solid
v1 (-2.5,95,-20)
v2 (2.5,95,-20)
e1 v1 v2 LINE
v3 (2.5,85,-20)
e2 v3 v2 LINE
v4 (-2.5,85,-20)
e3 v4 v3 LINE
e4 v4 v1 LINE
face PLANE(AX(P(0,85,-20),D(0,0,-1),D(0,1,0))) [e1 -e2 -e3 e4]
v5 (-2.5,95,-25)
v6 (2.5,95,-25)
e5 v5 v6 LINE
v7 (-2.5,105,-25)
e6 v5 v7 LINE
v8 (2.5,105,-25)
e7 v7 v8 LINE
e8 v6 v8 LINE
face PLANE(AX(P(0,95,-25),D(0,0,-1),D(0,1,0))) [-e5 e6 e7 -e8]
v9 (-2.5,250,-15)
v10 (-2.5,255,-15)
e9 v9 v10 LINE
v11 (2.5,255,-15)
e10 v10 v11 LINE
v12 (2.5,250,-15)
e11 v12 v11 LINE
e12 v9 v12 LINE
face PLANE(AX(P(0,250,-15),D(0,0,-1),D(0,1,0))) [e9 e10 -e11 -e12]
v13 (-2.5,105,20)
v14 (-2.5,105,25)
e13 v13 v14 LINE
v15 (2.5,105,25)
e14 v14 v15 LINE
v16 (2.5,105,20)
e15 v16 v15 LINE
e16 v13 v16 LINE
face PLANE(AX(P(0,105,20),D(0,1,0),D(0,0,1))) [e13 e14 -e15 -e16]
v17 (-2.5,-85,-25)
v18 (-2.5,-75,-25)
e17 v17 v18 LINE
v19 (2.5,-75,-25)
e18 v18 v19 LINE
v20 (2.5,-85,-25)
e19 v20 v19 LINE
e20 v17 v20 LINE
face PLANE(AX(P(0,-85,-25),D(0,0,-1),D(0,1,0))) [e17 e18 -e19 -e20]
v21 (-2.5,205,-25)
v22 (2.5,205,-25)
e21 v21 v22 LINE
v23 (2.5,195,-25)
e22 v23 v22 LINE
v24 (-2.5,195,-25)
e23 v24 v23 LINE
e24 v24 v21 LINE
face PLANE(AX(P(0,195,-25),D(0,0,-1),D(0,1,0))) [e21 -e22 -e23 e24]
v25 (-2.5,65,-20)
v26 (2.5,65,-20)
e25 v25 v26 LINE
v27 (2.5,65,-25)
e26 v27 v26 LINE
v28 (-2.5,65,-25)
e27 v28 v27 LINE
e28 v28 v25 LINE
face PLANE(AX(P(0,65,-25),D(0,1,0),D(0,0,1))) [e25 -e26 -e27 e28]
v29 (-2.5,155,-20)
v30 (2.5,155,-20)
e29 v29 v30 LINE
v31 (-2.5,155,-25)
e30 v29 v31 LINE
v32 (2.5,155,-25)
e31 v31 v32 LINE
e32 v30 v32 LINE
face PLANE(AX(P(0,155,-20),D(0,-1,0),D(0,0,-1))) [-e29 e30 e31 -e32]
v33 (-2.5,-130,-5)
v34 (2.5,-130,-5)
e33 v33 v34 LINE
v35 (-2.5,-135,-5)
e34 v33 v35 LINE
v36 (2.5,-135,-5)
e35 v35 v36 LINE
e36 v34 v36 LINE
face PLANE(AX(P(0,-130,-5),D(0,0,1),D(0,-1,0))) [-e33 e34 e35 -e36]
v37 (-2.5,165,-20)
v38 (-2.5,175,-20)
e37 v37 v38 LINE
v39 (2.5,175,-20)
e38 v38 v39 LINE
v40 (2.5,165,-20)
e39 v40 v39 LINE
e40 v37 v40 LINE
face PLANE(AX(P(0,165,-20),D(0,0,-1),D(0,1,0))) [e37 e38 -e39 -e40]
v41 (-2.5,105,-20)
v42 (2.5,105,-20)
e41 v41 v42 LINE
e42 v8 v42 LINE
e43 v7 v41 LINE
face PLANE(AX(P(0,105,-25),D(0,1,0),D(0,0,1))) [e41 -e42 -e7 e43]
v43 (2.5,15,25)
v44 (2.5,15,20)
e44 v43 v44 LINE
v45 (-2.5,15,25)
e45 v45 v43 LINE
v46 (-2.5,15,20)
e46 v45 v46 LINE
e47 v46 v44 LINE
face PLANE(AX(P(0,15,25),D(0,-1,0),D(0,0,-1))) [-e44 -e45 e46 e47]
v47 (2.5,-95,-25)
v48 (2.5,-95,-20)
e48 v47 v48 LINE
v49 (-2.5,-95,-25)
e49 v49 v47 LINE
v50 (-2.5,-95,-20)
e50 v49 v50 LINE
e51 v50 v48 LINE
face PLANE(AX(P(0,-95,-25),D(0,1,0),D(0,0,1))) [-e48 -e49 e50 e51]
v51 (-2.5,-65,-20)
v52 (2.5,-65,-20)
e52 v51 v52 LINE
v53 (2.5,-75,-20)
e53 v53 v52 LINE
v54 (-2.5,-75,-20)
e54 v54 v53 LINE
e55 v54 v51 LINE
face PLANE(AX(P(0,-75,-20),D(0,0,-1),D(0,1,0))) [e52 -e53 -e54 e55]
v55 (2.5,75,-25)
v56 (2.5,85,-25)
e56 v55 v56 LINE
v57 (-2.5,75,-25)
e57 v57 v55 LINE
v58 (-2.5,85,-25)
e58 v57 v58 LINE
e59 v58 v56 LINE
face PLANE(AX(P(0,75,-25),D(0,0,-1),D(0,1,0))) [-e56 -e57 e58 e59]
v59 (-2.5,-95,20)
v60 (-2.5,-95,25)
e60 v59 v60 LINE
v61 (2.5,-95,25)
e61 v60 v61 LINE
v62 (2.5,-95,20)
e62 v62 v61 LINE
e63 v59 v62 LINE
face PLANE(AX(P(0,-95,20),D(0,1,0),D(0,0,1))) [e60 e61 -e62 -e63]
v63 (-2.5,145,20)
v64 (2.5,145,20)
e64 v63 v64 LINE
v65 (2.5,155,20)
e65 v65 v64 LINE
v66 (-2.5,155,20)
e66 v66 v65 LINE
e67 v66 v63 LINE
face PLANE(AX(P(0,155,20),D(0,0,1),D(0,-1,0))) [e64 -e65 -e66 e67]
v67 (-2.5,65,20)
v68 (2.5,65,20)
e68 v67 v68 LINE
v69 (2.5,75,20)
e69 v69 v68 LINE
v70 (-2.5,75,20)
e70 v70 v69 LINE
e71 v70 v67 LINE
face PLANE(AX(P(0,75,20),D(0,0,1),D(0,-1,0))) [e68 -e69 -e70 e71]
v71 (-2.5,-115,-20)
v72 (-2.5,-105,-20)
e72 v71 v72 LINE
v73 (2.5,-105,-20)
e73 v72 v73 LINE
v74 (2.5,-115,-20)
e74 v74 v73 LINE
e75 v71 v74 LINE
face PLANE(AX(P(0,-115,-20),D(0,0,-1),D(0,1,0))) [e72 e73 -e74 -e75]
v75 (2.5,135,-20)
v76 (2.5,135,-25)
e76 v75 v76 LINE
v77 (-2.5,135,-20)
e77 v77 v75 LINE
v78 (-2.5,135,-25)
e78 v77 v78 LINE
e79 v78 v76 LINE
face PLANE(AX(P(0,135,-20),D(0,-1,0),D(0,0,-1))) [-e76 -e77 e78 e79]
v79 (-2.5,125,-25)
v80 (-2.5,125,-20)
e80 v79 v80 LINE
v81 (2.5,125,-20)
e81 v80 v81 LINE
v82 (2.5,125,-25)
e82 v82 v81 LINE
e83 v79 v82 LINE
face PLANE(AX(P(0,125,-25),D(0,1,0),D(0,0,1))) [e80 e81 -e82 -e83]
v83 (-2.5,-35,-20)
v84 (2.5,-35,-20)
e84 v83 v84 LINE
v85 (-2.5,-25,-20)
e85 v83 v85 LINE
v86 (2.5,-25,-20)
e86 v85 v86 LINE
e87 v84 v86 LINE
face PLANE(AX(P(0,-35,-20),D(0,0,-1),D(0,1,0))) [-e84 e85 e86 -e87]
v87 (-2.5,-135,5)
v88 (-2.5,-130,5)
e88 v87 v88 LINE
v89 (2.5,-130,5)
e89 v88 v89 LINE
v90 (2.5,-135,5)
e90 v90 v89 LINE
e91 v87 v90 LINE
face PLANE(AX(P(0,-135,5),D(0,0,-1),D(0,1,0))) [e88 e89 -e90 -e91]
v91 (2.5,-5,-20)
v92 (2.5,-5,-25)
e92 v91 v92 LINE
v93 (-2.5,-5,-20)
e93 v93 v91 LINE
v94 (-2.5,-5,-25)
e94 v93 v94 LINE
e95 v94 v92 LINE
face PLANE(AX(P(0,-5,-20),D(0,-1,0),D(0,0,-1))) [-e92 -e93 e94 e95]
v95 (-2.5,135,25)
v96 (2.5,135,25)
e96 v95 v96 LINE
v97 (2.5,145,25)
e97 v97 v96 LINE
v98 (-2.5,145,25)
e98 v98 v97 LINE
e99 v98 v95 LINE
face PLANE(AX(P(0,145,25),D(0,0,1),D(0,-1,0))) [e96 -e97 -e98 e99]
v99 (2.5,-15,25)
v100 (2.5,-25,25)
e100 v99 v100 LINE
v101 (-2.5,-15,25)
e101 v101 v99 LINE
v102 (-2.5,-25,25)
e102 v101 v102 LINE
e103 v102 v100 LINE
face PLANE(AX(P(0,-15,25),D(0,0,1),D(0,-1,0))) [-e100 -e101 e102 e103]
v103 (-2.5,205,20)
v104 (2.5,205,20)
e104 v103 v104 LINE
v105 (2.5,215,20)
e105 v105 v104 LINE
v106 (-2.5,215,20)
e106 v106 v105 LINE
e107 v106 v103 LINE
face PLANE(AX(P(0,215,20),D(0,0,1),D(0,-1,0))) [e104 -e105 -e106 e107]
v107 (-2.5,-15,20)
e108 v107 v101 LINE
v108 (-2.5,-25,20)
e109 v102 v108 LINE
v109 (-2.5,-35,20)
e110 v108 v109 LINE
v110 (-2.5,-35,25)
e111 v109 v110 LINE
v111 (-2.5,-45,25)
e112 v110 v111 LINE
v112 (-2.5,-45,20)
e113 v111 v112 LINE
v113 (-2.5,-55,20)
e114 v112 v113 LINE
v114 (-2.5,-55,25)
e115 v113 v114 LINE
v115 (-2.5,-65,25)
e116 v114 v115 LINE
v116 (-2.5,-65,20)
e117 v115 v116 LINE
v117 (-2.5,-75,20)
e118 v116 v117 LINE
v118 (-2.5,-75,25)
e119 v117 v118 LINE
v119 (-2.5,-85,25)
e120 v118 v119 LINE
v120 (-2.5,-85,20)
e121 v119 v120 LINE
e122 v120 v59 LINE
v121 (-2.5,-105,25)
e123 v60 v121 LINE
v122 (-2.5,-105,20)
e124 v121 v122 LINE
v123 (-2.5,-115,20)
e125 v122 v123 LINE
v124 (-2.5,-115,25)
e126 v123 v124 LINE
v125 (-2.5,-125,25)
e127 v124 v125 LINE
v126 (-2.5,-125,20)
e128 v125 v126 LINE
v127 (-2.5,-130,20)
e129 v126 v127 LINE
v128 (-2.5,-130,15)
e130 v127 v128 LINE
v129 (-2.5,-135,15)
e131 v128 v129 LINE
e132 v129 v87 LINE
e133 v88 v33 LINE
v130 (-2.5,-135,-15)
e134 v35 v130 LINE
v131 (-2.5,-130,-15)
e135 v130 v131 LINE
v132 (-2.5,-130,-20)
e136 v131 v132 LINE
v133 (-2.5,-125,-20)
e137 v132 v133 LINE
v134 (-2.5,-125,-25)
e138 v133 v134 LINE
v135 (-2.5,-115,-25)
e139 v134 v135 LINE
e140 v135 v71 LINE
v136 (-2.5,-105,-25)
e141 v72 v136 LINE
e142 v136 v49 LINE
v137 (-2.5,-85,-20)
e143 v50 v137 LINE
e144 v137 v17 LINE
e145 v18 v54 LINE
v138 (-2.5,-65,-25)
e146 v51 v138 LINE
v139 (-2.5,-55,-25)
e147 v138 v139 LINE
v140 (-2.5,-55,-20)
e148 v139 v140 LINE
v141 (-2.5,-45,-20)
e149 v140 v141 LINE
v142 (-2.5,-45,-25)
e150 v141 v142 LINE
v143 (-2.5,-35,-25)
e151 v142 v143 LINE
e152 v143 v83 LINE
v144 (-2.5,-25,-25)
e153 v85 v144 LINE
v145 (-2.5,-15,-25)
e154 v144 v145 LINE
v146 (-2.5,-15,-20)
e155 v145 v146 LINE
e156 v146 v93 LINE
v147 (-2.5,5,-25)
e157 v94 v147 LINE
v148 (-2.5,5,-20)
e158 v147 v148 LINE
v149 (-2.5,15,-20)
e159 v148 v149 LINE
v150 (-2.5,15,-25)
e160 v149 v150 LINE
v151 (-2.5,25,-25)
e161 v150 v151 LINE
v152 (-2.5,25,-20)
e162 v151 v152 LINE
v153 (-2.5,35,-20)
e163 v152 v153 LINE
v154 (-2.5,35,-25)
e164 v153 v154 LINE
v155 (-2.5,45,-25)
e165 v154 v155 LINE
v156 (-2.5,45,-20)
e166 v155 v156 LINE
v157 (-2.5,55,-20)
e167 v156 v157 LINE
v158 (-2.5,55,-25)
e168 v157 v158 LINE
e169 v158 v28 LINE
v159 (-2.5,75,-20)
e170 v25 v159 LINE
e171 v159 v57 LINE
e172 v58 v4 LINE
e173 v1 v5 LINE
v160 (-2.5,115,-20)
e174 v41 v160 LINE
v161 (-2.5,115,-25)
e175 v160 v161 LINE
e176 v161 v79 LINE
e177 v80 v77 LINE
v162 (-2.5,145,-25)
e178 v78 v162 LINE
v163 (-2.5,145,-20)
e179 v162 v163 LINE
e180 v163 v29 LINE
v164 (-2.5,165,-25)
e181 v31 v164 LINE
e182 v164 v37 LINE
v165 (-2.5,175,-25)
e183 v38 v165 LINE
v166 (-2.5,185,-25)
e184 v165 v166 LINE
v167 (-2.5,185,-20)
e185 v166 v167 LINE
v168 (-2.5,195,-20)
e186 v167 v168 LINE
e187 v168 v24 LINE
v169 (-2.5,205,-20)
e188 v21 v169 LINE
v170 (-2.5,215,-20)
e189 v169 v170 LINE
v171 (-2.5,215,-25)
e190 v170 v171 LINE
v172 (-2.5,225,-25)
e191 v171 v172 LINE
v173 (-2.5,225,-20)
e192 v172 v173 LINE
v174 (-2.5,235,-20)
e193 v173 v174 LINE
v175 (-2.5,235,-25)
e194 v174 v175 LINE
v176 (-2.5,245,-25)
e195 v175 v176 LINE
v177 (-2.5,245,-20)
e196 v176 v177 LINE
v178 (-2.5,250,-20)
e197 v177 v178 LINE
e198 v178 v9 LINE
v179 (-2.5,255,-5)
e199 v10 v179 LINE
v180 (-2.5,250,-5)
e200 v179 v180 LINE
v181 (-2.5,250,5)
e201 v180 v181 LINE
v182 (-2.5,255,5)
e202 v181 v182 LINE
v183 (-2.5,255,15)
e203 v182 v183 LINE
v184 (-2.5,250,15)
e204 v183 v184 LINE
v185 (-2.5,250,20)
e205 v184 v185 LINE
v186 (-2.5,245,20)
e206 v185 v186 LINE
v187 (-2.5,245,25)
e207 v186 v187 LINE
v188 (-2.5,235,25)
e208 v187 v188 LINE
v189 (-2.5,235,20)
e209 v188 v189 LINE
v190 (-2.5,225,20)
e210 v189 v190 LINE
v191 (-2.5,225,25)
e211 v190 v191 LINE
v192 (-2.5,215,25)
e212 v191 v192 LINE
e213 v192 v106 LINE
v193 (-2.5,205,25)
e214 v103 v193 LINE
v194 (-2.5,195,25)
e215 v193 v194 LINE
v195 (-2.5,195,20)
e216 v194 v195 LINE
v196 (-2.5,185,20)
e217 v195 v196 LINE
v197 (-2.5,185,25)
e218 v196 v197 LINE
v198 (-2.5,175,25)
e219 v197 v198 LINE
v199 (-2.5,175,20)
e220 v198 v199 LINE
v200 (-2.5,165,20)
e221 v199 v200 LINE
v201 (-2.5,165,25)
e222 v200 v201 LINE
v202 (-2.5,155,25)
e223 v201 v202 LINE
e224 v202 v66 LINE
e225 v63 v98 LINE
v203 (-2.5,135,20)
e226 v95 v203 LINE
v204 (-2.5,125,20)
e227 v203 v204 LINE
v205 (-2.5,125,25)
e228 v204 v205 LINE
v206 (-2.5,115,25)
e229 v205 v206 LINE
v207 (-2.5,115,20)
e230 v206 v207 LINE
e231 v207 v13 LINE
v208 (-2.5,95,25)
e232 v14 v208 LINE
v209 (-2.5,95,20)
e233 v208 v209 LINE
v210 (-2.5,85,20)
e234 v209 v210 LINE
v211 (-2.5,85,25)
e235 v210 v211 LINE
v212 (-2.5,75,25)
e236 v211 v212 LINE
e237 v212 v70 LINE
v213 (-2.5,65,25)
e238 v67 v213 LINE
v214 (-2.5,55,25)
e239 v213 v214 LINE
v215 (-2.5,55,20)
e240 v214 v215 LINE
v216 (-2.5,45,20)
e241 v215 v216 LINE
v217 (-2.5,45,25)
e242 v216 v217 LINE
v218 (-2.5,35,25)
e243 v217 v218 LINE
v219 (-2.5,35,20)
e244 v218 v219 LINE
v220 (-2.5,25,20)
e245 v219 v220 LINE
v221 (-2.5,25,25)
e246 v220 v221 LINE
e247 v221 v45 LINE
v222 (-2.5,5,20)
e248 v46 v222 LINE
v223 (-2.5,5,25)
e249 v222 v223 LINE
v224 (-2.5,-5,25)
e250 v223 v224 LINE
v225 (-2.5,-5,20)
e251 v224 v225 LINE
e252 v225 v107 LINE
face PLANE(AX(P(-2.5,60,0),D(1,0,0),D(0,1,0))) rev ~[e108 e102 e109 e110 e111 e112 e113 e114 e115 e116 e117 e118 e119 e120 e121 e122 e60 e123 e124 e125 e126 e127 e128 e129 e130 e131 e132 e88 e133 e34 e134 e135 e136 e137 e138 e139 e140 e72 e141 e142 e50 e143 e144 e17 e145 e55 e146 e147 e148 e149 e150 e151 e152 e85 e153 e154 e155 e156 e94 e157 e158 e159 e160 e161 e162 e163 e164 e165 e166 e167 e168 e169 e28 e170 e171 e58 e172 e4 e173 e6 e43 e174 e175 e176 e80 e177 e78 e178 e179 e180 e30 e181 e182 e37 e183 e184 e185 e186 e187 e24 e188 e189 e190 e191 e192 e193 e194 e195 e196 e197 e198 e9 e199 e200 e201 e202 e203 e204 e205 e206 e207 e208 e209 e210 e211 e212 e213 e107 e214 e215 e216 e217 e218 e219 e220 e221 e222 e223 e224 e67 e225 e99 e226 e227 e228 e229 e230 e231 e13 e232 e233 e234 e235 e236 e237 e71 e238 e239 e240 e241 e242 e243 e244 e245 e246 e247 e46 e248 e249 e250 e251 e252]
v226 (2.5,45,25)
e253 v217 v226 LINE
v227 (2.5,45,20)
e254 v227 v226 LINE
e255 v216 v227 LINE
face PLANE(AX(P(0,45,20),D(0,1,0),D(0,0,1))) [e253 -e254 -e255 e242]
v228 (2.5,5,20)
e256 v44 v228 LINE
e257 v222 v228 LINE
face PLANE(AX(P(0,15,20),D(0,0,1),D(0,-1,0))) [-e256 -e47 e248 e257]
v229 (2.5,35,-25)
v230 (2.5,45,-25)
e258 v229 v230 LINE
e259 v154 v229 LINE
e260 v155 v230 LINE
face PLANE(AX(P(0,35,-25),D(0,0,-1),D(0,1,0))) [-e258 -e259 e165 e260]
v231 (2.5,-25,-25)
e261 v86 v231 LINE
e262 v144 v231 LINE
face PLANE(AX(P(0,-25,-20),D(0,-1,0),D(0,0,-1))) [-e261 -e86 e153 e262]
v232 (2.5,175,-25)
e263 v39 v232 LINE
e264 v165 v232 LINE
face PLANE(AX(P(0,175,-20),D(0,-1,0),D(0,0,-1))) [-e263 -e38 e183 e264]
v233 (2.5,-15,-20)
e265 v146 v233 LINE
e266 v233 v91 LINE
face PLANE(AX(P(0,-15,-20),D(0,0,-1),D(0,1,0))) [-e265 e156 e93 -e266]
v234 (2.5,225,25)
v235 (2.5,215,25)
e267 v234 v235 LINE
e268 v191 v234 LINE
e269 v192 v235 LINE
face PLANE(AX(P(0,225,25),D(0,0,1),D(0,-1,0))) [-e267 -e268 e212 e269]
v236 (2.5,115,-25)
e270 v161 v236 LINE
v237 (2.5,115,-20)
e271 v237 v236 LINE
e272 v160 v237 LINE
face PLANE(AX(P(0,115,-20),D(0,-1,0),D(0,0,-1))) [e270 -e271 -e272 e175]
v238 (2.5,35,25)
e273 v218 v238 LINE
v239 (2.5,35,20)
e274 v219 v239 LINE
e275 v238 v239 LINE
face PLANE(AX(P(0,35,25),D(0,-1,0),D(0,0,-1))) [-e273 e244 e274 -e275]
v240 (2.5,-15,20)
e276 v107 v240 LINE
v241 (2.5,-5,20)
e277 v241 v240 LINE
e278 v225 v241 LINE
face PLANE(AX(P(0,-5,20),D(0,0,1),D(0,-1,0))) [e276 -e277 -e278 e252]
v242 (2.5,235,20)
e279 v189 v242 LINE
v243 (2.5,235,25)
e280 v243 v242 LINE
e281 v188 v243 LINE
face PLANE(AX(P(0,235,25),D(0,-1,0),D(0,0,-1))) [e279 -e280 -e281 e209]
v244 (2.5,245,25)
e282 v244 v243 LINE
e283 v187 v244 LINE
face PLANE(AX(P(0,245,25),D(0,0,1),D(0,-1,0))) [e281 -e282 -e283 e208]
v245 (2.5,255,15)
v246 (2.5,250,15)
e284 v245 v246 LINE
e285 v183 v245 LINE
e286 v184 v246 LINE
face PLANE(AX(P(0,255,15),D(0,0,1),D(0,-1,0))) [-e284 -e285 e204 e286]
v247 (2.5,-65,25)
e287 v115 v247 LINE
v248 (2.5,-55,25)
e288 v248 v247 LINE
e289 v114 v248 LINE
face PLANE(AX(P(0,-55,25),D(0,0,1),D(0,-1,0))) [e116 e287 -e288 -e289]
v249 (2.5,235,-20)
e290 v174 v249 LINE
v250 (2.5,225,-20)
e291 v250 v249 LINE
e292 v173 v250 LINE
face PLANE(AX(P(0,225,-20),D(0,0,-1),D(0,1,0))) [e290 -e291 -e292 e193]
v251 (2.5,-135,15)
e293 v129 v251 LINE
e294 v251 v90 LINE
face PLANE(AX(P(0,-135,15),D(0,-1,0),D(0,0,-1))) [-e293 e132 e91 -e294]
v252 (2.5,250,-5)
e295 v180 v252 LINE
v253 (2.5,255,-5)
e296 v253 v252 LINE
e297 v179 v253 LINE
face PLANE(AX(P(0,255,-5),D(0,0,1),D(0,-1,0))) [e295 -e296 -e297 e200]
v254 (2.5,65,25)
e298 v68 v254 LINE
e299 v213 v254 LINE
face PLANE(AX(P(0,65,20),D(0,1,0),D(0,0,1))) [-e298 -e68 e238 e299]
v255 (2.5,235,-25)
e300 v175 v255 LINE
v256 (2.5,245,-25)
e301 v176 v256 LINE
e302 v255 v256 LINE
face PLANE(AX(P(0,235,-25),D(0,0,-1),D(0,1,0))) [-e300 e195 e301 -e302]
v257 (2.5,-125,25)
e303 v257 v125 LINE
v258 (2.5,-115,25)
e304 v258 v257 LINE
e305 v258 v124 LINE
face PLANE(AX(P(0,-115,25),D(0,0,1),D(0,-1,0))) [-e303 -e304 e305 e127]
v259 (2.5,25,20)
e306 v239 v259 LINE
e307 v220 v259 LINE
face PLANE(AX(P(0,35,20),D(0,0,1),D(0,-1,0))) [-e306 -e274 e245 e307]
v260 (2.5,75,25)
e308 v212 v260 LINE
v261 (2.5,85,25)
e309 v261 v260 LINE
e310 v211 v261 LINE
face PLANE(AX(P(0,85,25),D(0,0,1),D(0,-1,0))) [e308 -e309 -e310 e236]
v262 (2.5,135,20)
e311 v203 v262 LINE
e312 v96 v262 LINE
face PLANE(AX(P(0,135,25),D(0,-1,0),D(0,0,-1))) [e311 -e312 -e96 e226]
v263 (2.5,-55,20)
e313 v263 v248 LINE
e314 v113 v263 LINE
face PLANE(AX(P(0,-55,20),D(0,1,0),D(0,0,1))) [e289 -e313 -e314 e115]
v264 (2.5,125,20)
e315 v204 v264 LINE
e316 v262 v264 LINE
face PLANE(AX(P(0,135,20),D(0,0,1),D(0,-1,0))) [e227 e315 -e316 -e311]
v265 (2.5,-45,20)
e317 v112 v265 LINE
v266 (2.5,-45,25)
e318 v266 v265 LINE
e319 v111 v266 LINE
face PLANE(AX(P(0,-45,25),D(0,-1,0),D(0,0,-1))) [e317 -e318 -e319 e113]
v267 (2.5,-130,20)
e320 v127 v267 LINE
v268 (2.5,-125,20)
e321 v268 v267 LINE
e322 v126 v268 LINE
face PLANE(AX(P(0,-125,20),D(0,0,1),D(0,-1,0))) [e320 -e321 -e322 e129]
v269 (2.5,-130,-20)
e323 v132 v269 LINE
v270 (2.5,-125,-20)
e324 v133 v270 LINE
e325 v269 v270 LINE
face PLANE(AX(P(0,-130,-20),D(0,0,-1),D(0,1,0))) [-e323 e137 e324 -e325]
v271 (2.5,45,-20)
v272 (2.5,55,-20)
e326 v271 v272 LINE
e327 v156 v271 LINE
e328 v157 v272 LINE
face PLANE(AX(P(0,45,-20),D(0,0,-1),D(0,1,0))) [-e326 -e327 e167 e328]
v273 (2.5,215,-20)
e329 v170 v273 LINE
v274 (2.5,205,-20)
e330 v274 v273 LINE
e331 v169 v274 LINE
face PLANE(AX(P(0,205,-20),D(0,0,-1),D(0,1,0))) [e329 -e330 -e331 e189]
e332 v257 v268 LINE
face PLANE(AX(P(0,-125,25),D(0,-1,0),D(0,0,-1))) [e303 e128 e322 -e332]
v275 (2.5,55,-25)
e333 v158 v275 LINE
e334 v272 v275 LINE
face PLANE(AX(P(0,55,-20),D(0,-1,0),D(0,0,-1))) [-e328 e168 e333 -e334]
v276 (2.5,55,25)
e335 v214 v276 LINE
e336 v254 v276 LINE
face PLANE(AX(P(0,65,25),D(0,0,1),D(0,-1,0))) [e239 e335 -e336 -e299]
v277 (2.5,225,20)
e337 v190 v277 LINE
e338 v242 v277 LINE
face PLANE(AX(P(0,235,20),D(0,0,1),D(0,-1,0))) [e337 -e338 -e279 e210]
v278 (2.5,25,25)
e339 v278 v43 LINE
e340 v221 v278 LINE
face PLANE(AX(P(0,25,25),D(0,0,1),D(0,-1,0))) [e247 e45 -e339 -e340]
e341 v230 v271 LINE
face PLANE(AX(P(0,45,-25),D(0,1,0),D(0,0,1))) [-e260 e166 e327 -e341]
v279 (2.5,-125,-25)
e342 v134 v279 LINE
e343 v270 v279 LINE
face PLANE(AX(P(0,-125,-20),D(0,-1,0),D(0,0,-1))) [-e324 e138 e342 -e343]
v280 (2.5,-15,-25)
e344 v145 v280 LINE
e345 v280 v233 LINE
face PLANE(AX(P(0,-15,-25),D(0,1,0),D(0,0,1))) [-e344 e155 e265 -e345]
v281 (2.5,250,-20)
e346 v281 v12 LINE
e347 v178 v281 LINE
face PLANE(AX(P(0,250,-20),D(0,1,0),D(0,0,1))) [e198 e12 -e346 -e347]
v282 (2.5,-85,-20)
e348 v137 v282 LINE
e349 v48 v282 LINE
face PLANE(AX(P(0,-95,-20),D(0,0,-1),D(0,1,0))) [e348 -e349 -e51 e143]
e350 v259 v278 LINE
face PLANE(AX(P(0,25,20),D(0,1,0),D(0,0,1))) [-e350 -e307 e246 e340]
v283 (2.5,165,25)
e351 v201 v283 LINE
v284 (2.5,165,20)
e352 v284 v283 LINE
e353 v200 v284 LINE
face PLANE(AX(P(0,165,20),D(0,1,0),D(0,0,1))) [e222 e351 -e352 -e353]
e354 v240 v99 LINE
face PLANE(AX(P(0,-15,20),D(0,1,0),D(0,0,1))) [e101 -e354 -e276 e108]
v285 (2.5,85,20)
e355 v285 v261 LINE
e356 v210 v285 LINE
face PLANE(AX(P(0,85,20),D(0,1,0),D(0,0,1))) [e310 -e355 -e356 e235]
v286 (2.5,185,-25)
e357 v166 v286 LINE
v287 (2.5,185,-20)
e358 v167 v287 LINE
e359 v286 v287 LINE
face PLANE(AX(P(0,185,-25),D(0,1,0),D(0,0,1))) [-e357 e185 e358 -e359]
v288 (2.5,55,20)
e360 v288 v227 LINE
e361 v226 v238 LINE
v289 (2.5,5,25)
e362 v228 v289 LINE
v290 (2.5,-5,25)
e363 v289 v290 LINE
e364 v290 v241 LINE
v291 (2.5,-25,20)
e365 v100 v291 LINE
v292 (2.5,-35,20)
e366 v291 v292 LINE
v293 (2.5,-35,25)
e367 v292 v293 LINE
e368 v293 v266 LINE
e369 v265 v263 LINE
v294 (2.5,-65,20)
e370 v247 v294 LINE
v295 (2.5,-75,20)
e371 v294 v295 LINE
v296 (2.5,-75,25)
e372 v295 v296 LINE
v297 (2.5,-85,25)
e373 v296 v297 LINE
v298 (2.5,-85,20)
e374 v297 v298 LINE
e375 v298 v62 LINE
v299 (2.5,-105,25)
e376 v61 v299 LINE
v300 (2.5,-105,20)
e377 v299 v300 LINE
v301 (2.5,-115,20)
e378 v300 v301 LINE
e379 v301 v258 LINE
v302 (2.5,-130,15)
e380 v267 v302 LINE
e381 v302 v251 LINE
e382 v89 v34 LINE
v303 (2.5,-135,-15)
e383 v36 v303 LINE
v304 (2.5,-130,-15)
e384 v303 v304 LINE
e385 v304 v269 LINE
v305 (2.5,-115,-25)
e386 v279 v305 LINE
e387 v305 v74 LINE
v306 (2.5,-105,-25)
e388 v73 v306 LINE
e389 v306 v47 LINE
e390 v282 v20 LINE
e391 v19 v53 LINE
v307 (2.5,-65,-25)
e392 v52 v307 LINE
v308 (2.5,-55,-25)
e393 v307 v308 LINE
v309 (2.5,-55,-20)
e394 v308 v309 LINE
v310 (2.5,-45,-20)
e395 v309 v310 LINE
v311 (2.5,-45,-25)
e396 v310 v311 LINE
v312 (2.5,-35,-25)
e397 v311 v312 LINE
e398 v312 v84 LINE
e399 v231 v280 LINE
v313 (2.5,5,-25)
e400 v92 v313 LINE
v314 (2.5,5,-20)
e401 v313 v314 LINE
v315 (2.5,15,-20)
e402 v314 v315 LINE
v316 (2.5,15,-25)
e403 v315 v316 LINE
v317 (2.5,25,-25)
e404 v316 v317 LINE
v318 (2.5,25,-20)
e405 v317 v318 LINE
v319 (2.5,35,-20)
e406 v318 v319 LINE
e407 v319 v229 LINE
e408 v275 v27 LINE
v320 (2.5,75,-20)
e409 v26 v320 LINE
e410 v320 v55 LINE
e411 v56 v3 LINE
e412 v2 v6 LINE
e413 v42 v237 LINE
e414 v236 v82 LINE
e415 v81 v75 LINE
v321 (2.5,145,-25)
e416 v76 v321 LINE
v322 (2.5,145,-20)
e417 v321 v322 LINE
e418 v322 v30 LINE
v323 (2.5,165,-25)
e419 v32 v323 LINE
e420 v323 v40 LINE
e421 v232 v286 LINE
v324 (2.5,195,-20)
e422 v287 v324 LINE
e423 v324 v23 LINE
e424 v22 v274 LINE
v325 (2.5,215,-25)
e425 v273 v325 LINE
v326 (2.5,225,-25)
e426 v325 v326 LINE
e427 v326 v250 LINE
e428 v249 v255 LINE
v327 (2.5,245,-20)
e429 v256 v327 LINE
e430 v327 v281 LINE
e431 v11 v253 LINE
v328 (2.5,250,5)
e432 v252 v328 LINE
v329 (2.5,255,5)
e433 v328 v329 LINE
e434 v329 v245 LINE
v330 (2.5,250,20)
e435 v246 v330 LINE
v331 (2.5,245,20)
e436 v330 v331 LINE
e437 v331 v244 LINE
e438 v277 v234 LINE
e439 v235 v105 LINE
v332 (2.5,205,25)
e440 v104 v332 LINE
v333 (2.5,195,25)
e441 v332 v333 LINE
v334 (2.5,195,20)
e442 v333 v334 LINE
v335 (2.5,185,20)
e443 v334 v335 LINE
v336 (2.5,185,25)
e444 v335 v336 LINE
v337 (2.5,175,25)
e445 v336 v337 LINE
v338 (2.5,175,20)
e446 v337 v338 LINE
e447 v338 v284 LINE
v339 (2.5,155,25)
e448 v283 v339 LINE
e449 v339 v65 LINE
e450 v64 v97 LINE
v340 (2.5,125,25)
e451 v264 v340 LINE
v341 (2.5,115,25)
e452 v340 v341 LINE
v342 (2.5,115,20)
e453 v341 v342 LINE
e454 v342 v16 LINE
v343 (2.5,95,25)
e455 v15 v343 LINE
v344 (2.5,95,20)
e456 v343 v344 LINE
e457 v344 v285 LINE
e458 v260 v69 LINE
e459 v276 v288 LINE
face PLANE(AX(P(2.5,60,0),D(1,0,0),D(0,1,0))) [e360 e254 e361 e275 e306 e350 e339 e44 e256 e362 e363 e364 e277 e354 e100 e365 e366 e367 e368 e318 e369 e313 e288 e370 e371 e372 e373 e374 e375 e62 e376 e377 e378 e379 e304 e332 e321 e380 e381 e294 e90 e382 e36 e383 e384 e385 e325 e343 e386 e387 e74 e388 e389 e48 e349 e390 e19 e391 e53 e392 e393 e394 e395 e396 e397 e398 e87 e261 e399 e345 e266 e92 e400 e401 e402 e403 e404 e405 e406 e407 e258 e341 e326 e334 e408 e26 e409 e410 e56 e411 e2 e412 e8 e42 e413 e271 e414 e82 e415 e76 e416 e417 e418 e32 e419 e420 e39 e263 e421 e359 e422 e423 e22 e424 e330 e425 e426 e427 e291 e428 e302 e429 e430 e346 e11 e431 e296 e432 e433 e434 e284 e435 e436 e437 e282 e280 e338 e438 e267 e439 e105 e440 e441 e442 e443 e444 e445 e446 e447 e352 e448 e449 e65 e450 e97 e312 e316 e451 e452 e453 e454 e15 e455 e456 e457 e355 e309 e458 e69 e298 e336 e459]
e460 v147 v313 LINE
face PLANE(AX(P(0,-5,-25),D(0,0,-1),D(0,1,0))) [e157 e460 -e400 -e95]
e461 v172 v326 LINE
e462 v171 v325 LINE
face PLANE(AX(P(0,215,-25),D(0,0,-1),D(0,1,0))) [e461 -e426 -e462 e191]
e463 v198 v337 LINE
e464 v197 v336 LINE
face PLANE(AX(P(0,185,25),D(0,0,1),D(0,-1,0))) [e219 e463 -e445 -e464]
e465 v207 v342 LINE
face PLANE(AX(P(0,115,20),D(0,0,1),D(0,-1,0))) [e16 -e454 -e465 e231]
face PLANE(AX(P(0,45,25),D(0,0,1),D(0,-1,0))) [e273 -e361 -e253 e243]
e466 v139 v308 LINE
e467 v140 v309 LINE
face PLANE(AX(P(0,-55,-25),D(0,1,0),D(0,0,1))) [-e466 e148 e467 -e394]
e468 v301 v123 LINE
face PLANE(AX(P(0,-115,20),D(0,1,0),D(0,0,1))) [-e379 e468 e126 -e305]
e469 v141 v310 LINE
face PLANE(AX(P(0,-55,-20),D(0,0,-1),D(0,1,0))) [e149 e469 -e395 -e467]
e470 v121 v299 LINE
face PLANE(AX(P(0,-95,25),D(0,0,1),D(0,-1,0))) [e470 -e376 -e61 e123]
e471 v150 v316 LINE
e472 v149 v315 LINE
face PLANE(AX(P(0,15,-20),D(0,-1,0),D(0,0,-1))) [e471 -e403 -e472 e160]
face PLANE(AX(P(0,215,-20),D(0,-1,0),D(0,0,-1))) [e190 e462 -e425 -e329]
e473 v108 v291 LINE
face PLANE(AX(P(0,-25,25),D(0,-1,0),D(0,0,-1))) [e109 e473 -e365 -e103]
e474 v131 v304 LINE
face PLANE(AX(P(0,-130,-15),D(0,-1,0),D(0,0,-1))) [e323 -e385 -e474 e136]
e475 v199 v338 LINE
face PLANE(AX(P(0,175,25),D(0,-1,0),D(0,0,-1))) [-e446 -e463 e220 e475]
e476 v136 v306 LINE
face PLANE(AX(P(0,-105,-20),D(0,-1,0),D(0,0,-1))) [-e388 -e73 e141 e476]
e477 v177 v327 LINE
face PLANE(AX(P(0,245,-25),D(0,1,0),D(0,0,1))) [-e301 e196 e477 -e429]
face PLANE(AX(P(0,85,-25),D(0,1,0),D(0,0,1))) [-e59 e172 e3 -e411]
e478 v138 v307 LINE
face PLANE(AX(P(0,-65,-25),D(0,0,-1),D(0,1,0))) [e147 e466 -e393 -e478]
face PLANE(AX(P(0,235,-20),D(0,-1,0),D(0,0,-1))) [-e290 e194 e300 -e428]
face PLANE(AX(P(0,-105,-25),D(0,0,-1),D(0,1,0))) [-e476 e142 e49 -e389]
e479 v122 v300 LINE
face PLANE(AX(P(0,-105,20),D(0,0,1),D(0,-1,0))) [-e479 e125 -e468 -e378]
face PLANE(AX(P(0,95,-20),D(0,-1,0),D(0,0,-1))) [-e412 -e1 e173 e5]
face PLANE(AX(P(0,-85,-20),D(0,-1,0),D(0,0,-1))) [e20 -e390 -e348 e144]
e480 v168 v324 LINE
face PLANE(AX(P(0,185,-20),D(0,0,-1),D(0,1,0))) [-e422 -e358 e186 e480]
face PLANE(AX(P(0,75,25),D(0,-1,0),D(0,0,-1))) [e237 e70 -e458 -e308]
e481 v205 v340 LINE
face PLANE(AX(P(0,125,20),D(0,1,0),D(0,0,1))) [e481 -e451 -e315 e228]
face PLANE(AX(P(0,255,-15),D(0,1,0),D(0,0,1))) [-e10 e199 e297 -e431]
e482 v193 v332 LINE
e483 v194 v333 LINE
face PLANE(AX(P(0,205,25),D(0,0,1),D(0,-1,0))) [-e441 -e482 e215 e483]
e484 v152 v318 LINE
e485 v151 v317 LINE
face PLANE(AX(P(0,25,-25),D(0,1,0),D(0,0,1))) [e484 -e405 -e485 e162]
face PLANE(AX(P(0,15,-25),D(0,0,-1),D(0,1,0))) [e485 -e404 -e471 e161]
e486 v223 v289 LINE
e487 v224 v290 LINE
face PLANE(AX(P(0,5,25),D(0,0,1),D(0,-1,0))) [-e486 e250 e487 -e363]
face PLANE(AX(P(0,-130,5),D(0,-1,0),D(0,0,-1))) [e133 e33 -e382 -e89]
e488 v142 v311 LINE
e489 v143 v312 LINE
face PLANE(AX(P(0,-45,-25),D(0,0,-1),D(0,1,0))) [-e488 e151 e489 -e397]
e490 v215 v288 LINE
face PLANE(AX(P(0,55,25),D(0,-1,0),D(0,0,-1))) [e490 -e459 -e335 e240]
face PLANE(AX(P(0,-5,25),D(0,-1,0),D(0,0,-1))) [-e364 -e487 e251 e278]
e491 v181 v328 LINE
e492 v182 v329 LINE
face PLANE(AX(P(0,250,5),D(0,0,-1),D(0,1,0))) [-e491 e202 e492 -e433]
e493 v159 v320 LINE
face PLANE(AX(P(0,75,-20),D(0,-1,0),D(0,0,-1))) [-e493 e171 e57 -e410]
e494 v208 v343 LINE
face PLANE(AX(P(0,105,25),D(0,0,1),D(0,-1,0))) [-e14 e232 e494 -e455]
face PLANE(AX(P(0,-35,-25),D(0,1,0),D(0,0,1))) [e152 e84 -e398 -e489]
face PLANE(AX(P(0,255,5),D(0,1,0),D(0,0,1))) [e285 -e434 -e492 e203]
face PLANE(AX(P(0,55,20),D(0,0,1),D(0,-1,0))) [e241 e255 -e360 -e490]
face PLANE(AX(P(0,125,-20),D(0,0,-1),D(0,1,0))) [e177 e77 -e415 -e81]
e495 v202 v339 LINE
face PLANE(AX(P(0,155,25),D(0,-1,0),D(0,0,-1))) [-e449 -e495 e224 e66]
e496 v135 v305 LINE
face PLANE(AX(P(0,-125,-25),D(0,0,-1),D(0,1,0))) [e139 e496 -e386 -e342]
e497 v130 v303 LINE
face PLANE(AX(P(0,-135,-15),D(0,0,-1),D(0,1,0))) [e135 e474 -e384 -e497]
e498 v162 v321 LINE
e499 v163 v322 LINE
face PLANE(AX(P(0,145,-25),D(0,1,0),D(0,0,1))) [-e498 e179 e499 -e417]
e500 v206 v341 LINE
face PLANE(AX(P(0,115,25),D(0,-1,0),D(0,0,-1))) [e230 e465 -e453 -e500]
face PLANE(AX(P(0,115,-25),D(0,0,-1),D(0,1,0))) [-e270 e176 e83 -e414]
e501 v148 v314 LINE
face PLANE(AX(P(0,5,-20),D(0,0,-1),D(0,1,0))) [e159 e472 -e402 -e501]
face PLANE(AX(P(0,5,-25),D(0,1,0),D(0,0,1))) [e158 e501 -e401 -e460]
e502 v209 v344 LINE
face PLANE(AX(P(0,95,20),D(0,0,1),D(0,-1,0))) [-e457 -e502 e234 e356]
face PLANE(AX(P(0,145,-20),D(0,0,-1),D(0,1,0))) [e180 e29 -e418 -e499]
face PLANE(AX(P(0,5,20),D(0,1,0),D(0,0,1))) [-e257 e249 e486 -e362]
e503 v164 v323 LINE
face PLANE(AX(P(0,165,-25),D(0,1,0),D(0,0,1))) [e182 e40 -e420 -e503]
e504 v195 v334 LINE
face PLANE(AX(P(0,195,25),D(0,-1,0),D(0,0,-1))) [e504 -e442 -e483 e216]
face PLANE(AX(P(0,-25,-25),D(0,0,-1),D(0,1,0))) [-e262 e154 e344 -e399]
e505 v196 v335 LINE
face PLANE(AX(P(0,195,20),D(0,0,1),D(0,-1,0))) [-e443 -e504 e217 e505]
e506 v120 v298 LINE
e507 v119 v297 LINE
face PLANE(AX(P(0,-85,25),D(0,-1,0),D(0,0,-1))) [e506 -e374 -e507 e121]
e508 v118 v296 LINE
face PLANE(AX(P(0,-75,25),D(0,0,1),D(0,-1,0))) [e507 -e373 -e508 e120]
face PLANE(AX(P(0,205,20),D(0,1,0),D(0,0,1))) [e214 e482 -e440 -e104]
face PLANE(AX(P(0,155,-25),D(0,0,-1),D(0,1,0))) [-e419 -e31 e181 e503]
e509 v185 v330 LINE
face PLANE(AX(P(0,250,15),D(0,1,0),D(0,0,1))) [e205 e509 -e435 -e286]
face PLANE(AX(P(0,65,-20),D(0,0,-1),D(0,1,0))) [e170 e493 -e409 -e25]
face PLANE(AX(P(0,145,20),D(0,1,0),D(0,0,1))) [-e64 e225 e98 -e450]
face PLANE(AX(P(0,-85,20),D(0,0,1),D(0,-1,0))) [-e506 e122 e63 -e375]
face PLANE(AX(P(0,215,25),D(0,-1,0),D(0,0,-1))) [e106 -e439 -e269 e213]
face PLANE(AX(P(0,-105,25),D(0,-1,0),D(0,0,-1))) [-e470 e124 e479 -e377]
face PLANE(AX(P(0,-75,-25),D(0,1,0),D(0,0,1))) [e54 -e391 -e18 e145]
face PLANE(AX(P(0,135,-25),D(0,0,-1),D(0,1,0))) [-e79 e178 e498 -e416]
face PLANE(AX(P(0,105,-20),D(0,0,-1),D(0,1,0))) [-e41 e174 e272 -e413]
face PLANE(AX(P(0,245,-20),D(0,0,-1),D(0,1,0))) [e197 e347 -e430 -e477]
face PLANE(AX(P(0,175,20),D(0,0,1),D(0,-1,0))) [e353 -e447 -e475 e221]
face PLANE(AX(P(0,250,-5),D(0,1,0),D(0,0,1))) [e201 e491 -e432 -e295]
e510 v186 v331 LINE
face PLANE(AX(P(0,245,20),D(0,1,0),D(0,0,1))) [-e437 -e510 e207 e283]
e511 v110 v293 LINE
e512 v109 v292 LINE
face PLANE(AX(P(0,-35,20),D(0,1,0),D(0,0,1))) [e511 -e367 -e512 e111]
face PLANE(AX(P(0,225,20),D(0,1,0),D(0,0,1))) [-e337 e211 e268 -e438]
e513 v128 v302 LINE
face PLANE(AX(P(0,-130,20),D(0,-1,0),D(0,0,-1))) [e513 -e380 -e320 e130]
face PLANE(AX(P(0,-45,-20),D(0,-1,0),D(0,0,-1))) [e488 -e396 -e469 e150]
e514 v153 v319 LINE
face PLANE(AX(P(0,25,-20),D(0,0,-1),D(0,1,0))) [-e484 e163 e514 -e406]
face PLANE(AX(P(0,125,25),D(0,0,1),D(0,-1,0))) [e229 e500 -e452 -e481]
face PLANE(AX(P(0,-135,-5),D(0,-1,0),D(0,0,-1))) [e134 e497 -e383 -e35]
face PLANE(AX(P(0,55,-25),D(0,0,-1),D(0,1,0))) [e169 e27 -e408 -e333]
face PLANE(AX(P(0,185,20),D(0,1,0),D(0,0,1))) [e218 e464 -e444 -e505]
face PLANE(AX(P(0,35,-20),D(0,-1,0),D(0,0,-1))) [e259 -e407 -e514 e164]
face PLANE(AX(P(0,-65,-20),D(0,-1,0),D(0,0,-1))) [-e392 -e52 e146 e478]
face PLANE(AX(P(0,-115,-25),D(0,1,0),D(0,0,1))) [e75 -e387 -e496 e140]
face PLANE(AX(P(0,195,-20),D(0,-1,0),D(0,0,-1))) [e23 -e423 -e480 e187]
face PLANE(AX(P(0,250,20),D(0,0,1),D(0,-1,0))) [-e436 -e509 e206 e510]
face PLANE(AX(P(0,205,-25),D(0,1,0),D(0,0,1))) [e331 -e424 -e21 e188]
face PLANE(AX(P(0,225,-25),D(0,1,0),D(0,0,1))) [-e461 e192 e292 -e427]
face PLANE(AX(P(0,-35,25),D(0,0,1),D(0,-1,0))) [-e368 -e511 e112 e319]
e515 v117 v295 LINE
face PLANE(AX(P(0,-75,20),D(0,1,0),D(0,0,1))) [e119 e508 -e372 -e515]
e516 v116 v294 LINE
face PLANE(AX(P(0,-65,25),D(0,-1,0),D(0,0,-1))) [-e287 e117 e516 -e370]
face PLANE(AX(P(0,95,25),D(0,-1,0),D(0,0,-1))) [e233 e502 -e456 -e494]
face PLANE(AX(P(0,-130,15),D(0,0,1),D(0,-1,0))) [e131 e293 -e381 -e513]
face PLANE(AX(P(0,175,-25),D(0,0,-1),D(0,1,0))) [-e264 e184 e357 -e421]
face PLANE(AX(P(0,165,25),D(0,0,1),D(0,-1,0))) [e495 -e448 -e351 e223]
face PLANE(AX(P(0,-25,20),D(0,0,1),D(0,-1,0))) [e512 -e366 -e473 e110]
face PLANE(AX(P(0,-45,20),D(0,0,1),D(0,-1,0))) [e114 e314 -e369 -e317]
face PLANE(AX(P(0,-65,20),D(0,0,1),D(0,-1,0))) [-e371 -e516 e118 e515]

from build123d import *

# Parameters (mm, degrees)
F1_DEPTH = 2.5


with BuildPart() as f1:
    # F0 (on Right) → F1 (new body, symmetric)
    with BuildSketch(Plane.YZ):
        Polygon((-125, 25), (-125, 20), (-130, 20), (-130, 15), (-135, 15), (-135, 5), (-130, 5), (-130, -5), (-135, -5), (-135, -15), (-130, -15), (-130, -20), (-125, -20), (-125, -25), (-115, -25), (-115, -20), (-105, -20), (-105, -25), (-95, -25), (-95, -20), (-85, -20), (-85, -25), (-75, -25), (-75, -20), (-65, -20), (-65, -25), (-55, -25), (-55, -20), (-45, -20), (-45, -25), (-35, -25), (-35, -20), (-25, -20), (-25, -25), (-15, -25), (-15, -20), (-5, -20), (-5, -25), (5, -25), (5, -20), (15, -20), (15, -25), (25, -25), (25, -20), (35, -20), (35, -25), (45, -25), (45, -20), (55, -20), (55, -25), (65, -25), (65, -20), (75, -20), (75, -25), (85, -25), (85, -20), (95, -20), (95, -25), (105, -25), (105, -20), (115, -20), (115, -25), (125, -25), (125, -20), (135, -20), (135, -25), (145, -25), (145, -20), (155, -20), (155, -25), (165, -25), (165, -20), (175, -20), (175, -25), (185, -25), (185, -20), (195, -20), (195, -25), (205, -25), (205, -20), (215, -20), (215, -25), (225, -25), (225, -20), (235, -20), (235, -25), (245, -25), (245, -20), (250, -20), (250, -15), (255, -15), (255, -5), (250, -5), (250, 5), (255, 5), (255, 15), (250, 15), (250, 20), (245, 20), (245, 25), (235, 25), (235, 20), (225, 20), (225, 25), (215, 25), (215, 20), (205, 20), (205, 25), (195, 25), (195, 20), (185, 20), (185, 25), (175, 25), (175, 20), (165, 20), (165, 25), (155, 25), (155, 20), (145, 20), (145, 25), (135, 25), (135, 20), (125, 20), (125, 25), (115, 25), (115, 20), (105, 20), (105, 25), (95, 25), (95, 20), (85, 20), (85, 25), (75, 25), (75, 20), (65, 20), (65, 25), (55, 25), (55, 20), (45, 20), (45, 25), (35, 25), (35, 20), (25, 20), (25, 25), (15, 25), (15, 20), (5, 20), (5, 25), (-5, 25), (-5, 20), (-15, 20), (-15, 25), (-25, 25), (-25, 20), (-35, 20), (-35, 25), (-45, 25), (-45, 20), (-55, 20), (-55, 25), (-65, 25), (-65, 20), (-75, 20), (-75, 25), (-85, 25), (-85, 20), (-95, 20), (-95, 25), (-105, 25), (-105, 20), (-115, 20), (-115, 25), align=None)
    extrude(amount=F1_DEPTH, both=True)


solid = f1.part
